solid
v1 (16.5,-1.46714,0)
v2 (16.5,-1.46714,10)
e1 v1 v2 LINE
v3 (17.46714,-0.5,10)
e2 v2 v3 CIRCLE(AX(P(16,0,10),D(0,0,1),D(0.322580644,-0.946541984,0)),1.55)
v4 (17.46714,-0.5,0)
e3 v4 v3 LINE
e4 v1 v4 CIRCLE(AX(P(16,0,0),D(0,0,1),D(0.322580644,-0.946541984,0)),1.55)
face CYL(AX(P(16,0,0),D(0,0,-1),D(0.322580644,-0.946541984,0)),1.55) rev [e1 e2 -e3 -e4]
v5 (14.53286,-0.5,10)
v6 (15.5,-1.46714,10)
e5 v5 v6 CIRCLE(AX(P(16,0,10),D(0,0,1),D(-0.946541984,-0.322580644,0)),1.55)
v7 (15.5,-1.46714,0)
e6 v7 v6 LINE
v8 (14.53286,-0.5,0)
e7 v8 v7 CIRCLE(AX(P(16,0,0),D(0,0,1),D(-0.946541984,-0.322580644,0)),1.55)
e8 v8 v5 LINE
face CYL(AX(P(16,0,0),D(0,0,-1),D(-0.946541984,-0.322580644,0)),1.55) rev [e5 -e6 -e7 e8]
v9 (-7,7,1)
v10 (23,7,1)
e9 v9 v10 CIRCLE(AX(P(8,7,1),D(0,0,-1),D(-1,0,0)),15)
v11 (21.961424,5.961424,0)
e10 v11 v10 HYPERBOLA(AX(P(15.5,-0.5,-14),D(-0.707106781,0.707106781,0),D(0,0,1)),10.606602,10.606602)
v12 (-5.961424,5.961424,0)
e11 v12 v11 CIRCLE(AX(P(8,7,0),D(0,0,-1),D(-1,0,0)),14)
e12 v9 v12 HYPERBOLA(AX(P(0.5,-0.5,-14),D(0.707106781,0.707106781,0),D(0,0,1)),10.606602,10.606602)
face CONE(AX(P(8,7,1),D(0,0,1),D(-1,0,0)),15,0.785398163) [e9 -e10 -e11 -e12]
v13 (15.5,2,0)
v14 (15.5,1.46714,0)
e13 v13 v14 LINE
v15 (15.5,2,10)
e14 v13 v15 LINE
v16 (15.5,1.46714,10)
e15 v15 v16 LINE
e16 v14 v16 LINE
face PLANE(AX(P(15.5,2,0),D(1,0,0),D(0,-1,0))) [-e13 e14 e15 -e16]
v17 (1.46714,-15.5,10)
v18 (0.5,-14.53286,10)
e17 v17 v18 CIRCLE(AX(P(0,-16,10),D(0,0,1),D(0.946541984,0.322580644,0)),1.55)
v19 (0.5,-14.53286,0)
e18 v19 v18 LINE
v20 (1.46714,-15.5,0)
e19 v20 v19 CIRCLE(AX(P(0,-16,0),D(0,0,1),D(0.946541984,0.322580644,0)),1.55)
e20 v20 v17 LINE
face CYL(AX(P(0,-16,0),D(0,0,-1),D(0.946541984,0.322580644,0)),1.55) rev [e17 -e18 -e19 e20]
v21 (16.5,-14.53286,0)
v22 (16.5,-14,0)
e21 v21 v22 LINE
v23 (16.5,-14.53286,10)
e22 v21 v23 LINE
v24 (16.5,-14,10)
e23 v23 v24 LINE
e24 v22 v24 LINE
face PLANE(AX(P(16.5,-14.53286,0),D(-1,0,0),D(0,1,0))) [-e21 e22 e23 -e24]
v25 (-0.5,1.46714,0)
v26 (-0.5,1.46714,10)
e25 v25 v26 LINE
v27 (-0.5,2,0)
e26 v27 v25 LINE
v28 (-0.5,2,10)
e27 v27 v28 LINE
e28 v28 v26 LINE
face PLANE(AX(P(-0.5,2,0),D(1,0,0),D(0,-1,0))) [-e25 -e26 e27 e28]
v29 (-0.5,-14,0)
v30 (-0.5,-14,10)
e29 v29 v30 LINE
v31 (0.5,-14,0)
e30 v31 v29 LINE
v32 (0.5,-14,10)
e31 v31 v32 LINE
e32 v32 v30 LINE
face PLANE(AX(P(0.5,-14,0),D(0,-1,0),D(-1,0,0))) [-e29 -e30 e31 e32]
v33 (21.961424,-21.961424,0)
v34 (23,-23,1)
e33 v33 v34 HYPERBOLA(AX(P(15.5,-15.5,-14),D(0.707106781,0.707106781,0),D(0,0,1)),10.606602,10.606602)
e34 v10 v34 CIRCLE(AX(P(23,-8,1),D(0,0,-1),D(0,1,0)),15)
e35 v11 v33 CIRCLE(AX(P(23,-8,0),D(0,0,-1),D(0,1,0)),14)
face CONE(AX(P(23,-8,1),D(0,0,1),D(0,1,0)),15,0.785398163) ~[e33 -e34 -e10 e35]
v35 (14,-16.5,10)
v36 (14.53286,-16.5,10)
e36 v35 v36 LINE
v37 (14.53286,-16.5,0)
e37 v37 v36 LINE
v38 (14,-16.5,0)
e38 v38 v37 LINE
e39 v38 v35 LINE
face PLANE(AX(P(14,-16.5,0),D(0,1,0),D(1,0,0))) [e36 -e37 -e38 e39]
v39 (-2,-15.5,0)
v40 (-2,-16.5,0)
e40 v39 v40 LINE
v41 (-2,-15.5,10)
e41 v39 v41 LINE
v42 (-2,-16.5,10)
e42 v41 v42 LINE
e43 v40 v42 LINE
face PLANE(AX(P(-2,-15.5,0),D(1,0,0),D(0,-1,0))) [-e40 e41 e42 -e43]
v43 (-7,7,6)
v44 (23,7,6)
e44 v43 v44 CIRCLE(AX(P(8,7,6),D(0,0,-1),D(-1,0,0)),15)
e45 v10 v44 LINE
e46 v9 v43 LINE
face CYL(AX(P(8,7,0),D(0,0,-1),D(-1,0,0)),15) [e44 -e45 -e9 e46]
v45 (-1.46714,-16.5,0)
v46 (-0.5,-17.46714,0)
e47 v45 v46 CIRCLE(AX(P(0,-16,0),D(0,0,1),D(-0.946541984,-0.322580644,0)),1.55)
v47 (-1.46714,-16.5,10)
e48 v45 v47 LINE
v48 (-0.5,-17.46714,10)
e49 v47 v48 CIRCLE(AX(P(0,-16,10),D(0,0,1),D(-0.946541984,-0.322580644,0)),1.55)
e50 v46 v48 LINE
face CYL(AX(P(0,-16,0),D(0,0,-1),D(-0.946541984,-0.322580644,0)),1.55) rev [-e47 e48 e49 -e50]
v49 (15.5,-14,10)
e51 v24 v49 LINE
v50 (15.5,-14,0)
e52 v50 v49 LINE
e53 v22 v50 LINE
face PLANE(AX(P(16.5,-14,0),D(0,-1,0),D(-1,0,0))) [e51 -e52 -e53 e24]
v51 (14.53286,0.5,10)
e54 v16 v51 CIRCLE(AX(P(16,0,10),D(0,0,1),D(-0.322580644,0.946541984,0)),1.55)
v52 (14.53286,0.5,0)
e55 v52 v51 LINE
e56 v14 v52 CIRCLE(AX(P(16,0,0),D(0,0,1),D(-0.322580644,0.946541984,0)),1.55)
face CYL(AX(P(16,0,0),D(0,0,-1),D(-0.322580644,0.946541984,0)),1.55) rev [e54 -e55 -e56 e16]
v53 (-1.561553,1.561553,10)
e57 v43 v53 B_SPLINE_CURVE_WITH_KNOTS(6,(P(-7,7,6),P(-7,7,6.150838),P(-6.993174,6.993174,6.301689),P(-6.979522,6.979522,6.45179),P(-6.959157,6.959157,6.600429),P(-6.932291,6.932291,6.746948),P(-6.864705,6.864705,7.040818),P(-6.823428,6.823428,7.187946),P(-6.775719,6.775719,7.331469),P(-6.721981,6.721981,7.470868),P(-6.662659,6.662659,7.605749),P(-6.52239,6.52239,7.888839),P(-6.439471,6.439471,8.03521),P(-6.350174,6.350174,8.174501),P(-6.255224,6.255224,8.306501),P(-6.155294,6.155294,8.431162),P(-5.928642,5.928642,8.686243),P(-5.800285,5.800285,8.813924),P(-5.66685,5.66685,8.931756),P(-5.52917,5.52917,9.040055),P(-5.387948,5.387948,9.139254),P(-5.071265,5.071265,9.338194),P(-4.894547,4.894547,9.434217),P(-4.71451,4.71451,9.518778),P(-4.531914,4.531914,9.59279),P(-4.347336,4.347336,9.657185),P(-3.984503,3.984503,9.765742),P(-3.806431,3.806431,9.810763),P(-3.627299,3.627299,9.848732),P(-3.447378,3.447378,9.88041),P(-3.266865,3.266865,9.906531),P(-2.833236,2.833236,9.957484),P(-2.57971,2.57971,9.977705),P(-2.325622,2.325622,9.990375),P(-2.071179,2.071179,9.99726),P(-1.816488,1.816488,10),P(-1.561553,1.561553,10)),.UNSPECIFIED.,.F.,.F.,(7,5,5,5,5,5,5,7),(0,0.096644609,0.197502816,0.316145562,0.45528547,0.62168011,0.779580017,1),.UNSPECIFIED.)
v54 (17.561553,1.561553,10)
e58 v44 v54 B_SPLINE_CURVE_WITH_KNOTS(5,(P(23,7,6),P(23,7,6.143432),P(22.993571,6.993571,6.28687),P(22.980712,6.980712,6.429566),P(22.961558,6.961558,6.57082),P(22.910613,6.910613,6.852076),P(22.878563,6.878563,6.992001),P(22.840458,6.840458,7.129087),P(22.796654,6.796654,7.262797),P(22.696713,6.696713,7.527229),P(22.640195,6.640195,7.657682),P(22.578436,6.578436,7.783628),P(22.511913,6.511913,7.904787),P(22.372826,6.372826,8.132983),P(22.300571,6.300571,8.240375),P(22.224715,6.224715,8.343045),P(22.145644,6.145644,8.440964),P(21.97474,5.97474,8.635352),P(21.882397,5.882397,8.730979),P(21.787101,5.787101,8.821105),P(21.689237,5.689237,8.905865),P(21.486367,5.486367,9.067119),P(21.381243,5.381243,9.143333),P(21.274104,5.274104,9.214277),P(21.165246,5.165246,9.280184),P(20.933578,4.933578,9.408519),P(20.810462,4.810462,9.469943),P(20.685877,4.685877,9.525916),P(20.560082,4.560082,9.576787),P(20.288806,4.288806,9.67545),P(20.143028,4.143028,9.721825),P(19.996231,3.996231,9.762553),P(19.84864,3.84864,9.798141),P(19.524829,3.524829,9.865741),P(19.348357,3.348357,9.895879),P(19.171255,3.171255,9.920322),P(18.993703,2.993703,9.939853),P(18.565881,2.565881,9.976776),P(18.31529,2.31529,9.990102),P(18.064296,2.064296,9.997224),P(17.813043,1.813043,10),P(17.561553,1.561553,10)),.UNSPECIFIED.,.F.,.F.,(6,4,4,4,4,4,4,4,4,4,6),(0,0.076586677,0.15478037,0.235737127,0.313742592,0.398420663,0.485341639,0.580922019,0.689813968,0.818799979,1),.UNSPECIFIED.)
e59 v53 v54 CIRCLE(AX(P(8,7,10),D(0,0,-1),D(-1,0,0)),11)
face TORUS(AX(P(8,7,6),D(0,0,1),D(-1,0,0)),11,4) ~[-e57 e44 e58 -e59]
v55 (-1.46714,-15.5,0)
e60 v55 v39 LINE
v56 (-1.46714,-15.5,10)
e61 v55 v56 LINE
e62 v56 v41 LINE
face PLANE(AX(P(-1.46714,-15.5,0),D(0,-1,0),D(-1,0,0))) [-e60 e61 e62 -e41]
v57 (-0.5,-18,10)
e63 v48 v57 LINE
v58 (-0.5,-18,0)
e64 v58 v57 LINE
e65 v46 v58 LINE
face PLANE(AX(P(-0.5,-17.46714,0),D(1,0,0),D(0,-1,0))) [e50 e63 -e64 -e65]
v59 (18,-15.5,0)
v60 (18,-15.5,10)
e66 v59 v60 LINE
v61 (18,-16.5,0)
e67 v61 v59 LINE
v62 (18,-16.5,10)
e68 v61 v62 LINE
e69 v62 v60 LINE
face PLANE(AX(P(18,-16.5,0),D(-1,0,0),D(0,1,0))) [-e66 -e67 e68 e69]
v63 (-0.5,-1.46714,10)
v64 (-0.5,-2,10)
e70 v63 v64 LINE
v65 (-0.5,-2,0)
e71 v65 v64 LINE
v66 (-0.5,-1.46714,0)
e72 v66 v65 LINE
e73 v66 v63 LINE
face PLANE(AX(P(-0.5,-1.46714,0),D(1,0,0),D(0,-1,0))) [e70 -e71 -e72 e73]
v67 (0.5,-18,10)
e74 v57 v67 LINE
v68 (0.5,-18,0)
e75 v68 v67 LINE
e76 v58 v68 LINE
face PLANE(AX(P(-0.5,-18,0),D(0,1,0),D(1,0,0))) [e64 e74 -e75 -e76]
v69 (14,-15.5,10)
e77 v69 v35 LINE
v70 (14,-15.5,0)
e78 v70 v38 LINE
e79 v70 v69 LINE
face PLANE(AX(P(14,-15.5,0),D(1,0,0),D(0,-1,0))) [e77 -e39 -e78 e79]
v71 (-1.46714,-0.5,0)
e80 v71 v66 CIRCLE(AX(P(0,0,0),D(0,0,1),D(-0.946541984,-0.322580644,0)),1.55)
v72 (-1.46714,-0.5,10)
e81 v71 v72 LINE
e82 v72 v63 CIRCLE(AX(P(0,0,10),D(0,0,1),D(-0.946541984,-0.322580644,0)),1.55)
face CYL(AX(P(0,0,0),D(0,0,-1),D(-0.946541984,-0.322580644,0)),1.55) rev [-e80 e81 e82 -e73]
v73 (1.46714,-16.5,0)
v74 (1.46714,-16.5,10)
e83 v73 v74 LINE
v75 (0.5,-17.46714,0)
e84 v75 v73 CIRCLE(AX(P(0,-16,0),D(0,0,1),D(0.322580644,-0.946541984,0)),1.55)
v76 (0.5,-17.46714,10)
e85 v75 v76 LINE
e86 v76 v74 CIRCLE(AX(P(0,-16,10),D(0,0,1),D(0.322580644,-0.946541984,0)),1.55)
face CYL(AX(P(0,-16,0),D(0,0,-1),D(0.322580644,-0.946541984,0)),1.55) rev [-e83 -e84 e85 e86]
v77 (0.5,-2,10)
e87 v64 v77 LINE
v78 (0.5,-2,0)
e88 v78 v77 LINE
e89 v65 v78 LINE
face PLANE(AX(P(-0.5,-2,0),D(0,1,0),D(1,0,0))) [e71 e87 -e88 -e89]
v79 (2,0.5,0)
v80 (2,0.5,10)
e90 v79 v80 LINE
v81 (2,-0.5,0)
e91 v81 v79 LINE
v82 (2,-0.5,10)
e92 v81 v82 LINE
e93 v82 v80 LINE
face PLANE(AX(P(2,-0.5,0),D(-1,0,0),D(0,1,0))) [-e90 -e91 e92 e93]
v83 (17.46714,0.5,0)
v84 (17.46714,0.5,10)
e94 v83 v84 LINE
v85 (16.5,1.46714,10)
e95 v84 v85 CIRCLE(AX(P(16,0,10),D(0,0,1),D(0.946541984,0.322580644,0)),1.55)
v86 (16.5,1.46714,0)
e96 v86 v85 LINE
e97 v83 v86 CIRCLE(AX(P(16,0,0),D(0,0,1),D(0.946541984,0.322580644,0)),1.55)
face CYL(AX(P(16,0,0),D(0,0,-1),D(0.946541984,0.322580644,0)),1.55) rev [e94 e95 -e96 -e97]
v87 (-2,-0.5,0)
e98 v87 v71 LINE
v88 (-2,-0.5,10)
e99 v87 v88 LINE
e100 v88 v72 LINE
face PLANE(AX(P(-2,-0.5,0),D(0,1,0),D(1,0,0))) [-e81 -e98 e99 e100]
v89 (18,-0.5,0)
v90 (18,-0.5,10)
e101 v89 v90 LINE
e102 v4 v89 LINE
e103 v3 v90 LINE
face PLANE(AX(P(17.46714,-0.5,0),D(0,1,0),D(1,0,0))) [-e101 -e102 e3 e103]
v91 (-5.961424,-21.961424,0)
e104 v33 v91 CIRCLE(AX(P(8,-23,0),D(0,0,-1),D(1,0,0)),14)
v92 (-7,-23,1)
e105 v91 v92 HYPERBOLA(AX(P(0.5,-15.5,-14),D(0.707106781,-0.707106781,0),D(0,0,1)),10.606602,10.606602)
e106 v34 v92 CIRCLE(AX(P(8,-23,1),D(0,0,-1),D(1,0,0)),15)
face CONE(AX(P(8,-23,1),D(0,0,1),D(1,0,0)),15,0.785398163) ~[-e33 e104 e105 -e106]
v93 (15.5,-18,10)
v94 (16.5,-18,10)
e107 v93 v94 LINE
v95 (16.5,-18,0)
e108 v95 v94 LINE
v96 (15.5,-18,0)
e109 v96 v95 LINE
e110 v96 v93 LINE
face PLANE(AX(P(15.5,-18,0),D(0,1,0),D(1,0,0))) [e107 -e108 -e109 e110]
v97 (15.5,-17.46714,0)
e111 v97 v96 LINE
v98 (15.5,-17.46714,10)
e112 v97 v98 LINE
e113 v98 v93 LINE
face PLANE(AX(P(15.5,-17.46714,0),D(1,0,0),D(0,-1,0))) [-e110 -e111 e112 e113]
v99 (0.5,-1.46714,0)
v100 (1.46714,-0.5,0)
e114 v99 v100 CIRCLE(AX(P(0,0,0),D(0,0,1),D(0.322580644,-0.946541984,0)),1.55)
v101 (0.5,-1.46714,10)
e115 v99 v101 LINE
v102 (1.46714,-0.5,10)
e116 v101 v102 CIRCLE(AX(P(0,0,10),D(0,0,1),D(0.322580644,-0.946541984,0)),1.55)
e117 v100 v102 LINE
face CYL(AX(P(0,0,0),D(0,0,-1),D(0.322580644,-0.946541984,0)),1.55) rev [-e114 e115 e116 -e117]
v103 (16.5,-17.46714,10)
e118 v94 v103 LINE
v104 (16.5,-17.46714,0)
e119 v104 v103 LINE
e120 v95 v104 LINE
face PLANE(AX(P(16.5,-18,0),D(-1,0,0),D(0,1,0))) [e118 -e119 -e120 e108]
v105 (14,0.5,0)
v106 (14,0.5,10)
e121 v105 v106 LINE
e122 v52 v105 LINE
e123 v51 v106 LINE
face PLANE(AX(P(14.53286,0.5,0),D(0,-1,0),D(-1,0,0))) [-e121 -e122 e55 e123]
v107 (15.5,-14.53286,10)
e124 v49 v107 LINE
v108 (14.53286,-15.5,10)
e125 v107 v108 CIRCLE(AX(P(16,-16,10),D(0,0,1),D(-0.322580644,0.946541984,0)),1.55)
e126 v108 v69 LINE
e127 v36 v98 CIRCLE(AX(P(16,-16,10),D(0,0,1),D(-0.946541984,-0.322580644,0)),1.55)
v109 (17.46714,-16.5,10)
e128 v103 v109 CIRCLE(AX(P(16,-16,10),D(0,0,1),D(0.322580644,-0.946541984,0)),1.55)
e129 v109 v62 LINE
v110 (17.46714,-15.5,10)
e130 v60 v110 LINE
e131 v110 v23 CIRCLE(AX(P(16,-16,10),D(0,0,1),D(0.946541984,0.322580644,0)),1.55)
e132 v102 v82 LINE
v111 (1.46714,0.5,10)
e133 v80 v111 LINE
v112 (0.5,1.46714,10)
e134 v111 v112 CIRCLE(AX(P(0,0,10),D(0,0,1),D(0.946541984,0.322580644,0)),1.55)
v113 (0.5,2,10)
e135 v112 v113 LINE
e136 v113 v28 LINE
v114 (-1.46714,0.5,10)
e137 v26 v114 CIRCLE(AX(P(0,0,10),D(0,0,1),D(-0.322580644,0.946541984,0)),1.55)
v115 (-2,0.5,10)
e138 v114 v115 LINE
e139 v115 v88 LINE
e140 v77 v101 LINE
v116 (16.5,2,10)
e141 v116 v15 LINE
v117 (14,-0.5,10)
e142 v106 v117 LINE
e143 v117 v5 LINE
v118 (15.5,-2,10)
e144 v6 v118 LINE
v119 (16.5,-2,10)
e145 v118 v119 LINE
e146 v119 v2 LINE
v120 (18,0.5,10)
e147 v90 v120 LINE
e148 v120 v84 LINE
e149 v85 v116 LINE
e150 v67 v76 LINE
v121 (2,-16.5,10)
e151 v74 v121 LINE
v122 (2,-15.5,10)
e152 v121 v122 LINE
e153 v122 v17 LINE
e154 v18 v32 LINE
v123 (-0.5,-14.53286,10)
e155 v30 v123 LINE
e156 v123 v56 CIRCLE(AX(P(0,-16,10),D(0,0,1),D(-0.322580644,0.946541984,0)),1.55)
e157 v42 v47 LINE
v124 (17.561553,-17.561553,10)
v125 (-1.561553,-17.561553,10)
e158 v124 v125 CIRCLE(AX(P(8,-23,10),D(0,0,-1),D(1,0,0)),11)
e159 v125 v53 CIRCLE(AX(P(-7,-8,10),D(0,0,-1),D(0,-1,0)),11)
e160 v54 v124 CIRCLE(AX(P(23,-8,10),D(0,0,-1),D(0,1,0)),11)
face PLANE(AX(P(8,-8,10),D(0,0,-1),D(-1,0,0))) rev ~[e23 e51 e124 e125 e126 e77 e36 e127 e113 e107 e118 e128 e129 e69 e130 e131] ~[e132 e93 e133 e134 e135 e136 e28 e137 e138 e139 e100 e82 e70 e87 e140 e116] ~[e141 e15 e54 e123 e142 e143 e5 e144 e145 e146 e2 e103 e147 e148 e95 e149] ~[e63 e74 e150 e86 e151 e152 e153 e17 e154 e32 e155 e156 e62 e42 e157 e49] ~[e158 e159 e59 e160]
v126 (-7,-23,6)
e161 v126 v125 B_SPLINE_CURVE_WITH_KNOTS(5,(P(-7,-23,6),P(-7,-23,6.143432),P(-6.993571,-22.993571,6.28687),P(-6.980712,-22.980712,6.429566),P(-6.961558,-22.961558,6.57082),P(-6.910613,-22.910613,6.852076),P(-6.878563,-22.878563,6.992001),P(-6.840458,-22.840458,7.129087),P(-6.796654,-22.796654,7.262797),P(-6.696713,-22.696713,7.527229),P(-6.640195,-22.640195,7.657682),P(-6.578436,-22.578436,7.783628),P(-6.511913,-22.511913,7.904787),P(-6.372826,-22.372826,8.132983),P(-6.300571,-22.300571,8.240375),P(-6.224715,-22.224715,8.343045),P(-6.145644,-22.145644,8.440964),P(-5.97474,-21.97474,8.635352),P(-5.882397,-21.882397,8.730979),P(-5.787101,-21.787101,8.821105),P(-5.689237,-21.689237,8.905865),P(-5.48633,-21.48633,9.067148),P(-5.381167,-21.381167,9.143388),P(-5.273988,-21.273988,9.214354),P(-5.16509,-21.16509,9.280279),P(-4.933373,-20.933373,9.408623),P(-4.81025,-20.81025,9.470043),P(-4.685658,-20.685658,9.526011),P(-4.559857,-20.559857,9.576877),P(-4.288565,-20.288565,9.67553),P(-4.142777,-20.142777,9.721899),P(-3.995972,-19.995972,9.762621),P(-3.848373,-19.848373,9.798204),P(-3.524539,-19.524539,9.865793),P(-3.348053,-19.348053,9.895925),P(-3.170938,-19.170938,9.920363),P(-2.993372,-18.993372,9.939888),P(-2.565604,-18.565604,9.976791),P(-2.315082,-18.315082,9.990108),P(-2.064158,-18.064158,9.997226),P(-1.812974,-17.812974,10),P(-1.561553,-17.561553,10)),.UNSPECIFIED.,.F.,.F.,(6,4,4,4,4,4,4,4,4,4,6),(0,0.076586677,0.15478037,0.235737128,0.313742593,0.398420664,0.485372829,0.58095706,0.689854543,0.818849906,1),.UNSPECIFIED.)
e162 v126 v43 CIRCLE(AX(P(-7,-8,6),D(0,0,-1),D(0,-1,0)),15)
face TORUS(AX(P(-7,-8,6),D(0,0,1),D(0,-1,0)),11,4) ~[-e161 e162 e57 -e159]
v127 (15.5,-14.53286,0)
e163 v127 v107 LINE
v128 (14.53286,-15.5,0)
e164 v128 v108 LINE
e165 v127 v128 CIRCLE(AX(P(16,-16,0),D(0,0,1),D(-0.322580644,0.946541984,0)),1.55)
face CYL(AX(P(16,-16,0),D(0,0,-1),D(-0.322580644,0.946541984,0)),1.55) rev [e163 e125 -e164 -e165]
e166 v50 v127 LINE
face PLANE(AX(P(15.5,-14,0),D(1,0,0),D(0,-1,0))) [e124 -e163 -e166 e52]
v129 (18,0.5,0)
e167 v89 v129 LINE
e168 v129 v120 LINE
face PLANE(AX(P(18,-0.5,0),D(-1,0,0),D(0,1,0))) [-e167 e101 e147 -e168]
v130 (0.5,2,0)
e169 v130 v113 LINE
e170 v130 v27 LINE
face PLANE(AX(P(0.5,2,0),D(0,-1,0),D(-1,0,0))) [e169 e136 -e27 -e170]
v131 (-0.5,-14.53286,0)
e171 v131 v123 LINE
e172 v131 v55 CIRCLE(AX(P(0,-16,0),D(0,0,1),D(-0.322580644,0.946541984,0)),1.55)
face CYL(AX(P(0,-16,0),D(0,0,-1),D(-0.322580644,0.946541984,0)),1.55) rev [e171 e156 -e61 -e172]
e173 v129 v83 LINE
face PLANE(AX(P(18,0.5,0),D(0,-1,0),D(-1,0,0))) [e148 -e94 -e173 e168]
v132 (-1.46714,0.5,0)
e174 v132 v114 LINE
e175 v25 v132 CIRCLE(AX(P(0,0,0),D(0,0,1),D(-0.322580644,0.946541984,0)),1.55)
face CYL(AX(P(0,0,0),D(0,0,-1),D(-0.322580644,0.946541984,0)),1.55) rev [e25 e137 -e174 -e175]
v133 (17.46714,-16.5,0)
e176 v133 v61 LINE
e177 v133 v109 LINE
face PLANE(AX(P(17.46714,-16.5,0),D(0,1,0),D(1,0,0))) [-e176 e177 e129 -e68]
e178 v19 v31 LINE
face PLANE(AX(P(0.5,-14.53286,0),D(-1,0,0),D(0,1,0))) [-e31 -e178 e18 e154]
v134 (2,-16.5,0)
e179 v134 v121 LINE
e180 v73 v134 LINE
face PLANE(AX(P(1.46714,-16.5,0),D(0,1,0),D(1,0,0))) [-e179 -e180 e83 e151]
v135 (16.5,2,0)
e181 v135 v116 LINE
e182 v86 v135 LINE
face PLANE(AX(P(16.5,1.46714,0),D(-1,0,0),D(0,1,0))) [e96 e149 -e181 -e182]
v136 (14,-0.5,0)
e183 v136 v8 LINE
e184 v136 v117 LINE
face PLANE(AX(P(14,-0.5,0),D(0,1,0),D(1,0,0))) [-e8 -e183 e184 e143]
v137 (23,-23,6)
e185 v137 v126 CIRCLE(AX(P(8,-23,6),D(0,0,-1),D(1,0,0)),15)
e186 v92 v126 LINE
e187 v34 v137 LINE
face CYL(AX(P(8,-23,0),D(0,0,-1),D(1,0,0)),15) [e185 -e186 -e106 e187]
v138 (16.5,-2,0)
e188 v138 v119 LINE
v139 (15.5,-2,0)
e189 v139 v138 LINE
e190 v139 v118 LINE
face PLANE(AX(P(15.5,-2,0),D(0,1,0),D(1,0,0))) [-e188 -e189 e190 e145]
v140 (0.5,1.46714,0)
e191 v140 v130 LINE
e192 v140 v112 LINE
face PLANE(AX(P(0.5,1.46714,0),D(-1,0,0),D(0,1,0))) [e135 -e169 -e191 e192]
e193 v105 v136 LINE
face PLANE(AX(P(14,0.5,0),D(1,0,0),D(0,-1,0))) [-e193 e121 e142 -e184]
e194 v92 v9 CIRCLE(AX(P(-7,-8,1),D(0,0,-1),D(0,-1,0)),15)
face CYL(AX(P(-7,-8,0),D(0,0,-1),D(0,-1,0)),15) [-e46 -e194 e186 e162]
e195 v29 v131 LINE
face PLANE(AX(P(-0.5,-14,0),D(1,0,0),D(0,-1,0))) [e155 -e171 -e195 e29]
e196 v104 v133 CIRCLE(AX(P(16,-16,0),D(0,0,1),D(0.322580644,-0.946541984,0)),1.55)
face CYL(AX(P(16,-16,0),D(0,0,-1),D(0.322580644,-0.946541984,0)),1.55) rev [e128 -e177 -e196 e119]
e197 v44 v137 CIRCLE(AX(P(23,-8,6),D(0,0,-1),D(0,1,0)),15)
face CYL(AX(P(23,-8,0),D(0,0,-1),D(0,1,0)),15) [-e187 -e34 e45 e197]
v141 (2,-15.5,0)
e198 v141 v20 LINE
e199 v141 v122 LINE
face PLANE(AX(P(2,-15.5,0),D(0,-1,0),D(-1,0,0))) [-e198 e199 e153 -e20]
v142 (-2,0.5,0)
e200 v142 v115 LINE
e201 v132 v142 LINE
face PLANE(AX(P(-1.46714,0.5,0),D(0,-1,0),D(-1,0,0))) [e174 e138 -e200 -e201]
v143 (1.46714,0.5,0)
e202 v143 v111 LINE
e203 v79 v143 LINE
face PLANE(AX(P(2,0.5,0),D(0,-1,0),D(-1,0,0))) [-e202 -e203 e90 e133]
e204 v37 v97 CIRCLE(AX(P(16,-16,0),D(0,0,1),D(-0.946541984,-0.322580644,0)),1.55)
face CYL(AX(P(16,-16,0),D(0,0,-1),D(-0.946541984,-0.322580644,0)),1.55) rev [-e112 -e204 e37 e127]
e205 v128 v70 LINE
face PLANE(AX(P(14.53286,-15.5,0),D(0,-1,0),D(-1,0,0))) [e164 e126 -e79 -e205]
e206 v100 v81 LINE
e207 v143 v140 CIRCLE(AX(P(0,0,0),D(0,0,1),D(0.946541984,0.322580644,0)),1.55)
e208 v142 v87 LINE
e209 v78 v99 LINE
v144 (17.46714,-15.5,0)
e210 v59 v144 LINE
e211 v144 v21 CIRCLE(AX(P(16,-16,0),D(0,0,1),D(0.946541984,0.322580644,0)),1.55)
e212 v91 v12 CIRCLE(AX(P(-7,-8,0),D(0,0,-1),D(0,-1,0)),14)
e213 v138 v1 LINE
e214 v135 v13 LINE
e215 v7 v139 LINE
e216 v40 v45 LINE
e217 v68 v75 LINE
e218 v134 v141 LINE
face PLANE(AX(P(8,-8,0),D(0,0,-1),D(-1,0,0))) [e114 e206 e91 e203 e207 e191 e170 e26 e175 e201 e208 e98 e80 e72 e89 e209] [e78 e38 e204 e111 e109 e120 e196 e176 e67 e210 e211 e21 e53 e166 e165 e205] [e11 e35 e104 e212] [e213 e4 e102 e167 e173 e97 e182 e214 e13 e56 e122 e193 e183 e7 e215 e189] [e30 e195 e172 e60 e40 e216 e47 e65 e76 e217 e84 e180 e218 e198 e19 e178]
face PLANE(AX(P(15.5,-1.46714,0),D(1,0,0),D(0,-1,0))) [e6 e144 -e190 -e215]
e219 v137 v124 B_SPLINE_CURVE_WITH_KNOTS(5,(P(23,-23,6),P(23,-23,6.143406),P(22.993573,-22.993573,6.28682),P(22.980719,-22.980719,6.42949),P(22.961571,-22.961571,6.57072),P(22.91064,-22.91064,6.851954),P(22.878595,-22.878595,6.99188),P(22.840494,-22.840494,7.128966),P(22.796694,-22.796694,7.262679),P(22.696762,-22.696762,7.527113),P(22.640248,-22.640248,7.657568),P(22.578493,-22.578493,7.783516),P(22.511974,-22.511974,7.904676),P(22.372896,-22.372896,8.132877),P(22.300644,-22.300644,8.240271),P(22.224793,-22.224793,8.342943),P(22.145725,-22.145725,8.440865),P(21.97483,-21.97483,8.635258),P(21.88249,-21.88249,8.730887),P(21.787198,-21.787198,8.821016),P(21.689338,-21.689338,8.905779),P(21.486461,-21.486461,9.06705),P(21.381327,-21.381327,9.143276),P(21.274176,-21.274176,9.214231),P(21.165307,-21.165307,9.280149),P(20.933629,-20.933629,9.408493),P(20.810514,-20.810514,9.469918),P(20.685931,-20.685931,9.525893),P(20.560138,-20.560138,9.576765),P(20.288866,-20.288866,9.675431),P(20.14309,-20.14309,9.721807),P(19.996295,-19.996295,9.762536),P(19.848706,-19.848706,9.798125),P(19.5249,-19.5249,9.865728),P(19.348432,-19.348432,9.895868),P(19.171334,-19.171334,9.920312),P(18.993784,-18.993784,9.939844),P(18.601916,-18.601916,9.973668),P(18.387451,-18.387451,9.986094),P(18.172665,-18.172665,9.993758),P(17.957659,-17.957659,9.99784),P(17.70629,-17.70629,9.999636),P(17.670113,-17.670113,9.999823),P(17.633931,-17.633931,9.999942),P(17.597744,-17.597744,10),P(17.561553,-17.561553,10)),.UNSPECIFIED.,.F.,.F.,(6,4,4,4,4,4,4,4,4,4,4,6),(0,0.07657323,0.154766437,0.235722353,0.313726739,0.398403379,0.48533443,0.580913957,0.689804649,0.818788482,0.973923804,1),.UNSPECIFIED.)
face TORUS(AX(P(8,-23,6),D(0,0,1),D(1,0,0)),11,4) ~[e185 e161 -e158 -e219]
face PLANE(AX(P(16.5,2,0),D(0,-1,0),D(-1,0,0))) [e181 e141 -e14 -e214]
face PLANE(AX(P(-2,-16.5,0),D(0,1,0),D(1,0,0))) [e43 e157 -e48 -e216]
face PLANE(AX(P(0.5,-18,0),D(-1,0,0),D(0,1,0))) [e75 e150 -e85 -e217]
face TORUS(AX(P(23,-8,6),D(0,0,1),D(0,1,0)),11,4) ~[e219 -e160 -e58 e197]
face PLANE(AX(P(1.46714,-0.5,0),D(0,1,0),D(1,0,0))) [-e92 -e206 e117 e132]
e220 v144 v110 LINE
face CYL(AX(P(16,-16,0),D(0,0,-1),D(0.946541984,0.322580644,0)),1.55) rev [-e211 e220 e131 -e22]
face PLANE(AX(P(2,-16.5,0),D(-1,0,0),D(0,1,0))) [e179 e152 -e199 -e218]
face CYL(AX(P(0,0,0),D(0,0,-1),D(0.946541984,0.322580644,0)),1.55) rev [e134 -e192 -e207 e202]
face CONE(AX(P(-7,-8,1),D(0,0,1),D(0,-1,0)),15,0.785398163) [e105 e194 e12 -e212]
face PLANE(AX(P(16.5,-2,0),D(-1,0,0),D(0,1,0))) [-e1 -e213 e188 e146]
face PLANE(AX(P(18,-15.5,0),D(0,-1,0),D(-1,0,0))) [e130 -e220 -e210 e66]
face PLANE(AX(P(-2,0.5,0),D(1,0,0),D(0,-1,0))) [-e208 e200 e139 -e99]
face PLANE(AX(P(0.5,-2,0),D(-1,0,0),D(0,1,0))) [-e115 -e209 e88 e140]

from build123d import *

# Parameters (mm, degrees)
BOSS_EXTRUDE1_DEPTH = 10
FILLET1_R           = 4
CHAMFER1_SIZE       = 1


with BuildPart() as part:
    # Sketch1 → Boss-Extrude1 (new body)
    with BuildSketch(Plane.XY):
        with BuildLine():
            ThreePointArc((-7, 7), (8, 22), (23, 7))
            ThreePointArc((23, 7), (38, -8), (23, -23))
            ThreePointArc((23, -23), (8, -38), (-7, -23))
            ThreePointArc((-7, -23), (-22, -8), (-7, 7))
        make_face()
        with BuildLine():
            Line((-0.5, -2), (0.5, -2))
            Line((0.5, -2), (0.5, -1.467140075))
            ThreePointArc((0.5, -1.467140075), (1.096015511, -1.096015511), (1.467140075, -0.5))
            Line((1.467140075, -0.5), (2, -0.5))
            Line((2, -0.5), (2, 0.5))
            Line((2, 0.5), (1.467140075, 0.5))
            ThreePointArc((1.467140075, 0.5), (1.096015511, 1.096015511), (0.5, 1.467140075))
            Line((0.5, 1.467140075), (0.5, 2))
            Line((0.5, 2), (-0.5, 2))
            Line((-0.5, 2), (-0.5, 1.467140075))
            ThreePointArc((-0.5, 1.467140075), (-1.096015511, 1.096015511), (-1.467140075, 0.5))
            Line((-1.467140075, 0.5), (-2, 0.5))
            Line((-2, 0.5), (-2, -0.5))
            Line((-2, -0.5), (-1.467140075, -0.5))
            ThreePointArc((-1.467140075, -0.5), (-1.096015511, -1.096015511), (-0.5, -1.467140075))
            Line((-0.5, -1.467140075), (-0.5, -2))
        make_face(mode=Mode.SUBTRACT)
        with BuildLine():
            Line((18, -0.5), (18, 0.5))
            Line((18, 0.5), (17.467140075, 0.5))
            ThreePointArc((17.467140075, 0.5), (17.096015511, 1.096015511), (16.5, 1.467140075))
            Line((16.5, 1.467140075), (16.5, 2))
            Line((16.5, 2), (15.5, 2))
            Line((15.5, 2), (15.5, 1.467140075))
            ThreePointArc((15.5, 1.467140075), (14.903984489, 1.096015511), (14.532859925, 0.5))
            Line((14.532859925, 0.5), (14, 0.5))
            Line((14, 0.5), (14, -0.5))
            Line((14, -0.5), (14.532859925, -0.5))
            ThreePointArc((14.532859925, -0.5), (14.903984489, -1.096015511), (15.5, -1.467140075))
            Line((15.5, -1.467140075), (15.5, -2))
            Line((15.5, -2), (16.5, -2))
            Line((16.5, -2), (16.5, -1.467140075))
            ThreePointArc((16.5, -1.467140075), (17.096015511, -1.096015511), (17.467140075, -0.5))
            Line((17.467140075, -0.5), (18, -0.5))
        make_face(mode=Mode.SUBTRACT)
        with BuildLine():
            Line((18, -15.5), (17.467140075, -15.5))
            ThreePointArc((17.467140075, -15.5), (17.096015511, -14.903984489), (16.5, -14.532859925))
            Line((16.5, -14.532859925), (16.5, -14))
            Line((16.5, -14), (15.5, -14))
            Line((15.5, -14), (15.5, -14.532859925))
            ThreePointArc((15.5, -14.532859925), (14.903984489, -14.903984489), (14.532859925, -15.5))
            Line((14.532859925, -15.5), (14, -15.5))
            Line((14, -15.5), (14, -16.5))
            Line((14, -16.5), (14.532859925, -16.5))
            ThreePointArc((14.532859925, -16.5), (14.903984489, -17.096015511), (15.5, -17.467140075))
            Line((15.5, -17.467140075), (15.5, -18))
            Line((15.5, -18), (16.5, -18))
            Line((16.5, -18), (16.5, -17.467140075))
            ThreePointArc((16.5, -17.467140075), (17.096015511, -17.096015511), (17.467140075, -16.5))
            Line((17.467140075, -16.5), (18, -16.5))
            Line((18, -16.5), (18, -15.5))
        make_face(mode=Mode.SUBTRACT)
        with BuildLine():
            Line((-2, -15.5), (-2, -16.5))
            Line((-2, -16.5), (-1.467140075, -16.5))
            ThreePointArc((-1.467140075, -16.5), (-1.096015511, -17.096015511), (-0.5, -17.467140075))
            Line((-0.5, -17.467140075), (-0.5, -18))
            Line((-0.5, -18), (0.5, -18))
            Line((0.5, -18), (0.5, -17.467140075))
            ThreePointArc((0.5, -17.467140075), (1.096015511, -17.096015511), (1.467140075, -16.5))
            Line((1.467140075, -16.5), (2, -16.5))
            Line((2, -16.5), (2, -15.5))
            Line((2, -15.5), (1.467140075, -15.5))
            ThreePointArc((1.467140075, -15.5), (1.096015511, -14.903984489), (0.5, -14.532859925))
            Line((0.5, -14.532859925), (0.5, -14))
            Line((0.5, -14), (-0.5, -14))
            Line((-0.5, -14), (-0.5, -14.532859925))
            ThreePointArc((-0.5, -14.532859925), (-1.096015511, -14.903984489), (-1.467140075, -15.5))
            Line((-1.467140075, -15.5), (-2, -15.5))
        make_face(mode=Mode.SUBTRACT)
    extrude(amount=BOSS_EXTRUDE1_DEPTH)

    # Fillet1
    fillet1_edges = [part.edges().sort_by_distance(p)[0] for p in [
        (-22, -8, 10),
        (8, -38, 10),
        (38, -8, 10),
        (8, 22, 10),
    ]]
    fillet(fillet1_edges, radius=FILLET1_R)

    # Chamfer1
    chamfer1_edges = [part.edges().sort_by_distance(p)[0] for p in [
        (38, -8, 0),
        (8, -38, 0),
        (-22, -8, 0),
        (8, 22, 0),
    ]]
    chamfer(chamfer1_edges, length=CHAMFER1_SIZE)


solid = part.part
